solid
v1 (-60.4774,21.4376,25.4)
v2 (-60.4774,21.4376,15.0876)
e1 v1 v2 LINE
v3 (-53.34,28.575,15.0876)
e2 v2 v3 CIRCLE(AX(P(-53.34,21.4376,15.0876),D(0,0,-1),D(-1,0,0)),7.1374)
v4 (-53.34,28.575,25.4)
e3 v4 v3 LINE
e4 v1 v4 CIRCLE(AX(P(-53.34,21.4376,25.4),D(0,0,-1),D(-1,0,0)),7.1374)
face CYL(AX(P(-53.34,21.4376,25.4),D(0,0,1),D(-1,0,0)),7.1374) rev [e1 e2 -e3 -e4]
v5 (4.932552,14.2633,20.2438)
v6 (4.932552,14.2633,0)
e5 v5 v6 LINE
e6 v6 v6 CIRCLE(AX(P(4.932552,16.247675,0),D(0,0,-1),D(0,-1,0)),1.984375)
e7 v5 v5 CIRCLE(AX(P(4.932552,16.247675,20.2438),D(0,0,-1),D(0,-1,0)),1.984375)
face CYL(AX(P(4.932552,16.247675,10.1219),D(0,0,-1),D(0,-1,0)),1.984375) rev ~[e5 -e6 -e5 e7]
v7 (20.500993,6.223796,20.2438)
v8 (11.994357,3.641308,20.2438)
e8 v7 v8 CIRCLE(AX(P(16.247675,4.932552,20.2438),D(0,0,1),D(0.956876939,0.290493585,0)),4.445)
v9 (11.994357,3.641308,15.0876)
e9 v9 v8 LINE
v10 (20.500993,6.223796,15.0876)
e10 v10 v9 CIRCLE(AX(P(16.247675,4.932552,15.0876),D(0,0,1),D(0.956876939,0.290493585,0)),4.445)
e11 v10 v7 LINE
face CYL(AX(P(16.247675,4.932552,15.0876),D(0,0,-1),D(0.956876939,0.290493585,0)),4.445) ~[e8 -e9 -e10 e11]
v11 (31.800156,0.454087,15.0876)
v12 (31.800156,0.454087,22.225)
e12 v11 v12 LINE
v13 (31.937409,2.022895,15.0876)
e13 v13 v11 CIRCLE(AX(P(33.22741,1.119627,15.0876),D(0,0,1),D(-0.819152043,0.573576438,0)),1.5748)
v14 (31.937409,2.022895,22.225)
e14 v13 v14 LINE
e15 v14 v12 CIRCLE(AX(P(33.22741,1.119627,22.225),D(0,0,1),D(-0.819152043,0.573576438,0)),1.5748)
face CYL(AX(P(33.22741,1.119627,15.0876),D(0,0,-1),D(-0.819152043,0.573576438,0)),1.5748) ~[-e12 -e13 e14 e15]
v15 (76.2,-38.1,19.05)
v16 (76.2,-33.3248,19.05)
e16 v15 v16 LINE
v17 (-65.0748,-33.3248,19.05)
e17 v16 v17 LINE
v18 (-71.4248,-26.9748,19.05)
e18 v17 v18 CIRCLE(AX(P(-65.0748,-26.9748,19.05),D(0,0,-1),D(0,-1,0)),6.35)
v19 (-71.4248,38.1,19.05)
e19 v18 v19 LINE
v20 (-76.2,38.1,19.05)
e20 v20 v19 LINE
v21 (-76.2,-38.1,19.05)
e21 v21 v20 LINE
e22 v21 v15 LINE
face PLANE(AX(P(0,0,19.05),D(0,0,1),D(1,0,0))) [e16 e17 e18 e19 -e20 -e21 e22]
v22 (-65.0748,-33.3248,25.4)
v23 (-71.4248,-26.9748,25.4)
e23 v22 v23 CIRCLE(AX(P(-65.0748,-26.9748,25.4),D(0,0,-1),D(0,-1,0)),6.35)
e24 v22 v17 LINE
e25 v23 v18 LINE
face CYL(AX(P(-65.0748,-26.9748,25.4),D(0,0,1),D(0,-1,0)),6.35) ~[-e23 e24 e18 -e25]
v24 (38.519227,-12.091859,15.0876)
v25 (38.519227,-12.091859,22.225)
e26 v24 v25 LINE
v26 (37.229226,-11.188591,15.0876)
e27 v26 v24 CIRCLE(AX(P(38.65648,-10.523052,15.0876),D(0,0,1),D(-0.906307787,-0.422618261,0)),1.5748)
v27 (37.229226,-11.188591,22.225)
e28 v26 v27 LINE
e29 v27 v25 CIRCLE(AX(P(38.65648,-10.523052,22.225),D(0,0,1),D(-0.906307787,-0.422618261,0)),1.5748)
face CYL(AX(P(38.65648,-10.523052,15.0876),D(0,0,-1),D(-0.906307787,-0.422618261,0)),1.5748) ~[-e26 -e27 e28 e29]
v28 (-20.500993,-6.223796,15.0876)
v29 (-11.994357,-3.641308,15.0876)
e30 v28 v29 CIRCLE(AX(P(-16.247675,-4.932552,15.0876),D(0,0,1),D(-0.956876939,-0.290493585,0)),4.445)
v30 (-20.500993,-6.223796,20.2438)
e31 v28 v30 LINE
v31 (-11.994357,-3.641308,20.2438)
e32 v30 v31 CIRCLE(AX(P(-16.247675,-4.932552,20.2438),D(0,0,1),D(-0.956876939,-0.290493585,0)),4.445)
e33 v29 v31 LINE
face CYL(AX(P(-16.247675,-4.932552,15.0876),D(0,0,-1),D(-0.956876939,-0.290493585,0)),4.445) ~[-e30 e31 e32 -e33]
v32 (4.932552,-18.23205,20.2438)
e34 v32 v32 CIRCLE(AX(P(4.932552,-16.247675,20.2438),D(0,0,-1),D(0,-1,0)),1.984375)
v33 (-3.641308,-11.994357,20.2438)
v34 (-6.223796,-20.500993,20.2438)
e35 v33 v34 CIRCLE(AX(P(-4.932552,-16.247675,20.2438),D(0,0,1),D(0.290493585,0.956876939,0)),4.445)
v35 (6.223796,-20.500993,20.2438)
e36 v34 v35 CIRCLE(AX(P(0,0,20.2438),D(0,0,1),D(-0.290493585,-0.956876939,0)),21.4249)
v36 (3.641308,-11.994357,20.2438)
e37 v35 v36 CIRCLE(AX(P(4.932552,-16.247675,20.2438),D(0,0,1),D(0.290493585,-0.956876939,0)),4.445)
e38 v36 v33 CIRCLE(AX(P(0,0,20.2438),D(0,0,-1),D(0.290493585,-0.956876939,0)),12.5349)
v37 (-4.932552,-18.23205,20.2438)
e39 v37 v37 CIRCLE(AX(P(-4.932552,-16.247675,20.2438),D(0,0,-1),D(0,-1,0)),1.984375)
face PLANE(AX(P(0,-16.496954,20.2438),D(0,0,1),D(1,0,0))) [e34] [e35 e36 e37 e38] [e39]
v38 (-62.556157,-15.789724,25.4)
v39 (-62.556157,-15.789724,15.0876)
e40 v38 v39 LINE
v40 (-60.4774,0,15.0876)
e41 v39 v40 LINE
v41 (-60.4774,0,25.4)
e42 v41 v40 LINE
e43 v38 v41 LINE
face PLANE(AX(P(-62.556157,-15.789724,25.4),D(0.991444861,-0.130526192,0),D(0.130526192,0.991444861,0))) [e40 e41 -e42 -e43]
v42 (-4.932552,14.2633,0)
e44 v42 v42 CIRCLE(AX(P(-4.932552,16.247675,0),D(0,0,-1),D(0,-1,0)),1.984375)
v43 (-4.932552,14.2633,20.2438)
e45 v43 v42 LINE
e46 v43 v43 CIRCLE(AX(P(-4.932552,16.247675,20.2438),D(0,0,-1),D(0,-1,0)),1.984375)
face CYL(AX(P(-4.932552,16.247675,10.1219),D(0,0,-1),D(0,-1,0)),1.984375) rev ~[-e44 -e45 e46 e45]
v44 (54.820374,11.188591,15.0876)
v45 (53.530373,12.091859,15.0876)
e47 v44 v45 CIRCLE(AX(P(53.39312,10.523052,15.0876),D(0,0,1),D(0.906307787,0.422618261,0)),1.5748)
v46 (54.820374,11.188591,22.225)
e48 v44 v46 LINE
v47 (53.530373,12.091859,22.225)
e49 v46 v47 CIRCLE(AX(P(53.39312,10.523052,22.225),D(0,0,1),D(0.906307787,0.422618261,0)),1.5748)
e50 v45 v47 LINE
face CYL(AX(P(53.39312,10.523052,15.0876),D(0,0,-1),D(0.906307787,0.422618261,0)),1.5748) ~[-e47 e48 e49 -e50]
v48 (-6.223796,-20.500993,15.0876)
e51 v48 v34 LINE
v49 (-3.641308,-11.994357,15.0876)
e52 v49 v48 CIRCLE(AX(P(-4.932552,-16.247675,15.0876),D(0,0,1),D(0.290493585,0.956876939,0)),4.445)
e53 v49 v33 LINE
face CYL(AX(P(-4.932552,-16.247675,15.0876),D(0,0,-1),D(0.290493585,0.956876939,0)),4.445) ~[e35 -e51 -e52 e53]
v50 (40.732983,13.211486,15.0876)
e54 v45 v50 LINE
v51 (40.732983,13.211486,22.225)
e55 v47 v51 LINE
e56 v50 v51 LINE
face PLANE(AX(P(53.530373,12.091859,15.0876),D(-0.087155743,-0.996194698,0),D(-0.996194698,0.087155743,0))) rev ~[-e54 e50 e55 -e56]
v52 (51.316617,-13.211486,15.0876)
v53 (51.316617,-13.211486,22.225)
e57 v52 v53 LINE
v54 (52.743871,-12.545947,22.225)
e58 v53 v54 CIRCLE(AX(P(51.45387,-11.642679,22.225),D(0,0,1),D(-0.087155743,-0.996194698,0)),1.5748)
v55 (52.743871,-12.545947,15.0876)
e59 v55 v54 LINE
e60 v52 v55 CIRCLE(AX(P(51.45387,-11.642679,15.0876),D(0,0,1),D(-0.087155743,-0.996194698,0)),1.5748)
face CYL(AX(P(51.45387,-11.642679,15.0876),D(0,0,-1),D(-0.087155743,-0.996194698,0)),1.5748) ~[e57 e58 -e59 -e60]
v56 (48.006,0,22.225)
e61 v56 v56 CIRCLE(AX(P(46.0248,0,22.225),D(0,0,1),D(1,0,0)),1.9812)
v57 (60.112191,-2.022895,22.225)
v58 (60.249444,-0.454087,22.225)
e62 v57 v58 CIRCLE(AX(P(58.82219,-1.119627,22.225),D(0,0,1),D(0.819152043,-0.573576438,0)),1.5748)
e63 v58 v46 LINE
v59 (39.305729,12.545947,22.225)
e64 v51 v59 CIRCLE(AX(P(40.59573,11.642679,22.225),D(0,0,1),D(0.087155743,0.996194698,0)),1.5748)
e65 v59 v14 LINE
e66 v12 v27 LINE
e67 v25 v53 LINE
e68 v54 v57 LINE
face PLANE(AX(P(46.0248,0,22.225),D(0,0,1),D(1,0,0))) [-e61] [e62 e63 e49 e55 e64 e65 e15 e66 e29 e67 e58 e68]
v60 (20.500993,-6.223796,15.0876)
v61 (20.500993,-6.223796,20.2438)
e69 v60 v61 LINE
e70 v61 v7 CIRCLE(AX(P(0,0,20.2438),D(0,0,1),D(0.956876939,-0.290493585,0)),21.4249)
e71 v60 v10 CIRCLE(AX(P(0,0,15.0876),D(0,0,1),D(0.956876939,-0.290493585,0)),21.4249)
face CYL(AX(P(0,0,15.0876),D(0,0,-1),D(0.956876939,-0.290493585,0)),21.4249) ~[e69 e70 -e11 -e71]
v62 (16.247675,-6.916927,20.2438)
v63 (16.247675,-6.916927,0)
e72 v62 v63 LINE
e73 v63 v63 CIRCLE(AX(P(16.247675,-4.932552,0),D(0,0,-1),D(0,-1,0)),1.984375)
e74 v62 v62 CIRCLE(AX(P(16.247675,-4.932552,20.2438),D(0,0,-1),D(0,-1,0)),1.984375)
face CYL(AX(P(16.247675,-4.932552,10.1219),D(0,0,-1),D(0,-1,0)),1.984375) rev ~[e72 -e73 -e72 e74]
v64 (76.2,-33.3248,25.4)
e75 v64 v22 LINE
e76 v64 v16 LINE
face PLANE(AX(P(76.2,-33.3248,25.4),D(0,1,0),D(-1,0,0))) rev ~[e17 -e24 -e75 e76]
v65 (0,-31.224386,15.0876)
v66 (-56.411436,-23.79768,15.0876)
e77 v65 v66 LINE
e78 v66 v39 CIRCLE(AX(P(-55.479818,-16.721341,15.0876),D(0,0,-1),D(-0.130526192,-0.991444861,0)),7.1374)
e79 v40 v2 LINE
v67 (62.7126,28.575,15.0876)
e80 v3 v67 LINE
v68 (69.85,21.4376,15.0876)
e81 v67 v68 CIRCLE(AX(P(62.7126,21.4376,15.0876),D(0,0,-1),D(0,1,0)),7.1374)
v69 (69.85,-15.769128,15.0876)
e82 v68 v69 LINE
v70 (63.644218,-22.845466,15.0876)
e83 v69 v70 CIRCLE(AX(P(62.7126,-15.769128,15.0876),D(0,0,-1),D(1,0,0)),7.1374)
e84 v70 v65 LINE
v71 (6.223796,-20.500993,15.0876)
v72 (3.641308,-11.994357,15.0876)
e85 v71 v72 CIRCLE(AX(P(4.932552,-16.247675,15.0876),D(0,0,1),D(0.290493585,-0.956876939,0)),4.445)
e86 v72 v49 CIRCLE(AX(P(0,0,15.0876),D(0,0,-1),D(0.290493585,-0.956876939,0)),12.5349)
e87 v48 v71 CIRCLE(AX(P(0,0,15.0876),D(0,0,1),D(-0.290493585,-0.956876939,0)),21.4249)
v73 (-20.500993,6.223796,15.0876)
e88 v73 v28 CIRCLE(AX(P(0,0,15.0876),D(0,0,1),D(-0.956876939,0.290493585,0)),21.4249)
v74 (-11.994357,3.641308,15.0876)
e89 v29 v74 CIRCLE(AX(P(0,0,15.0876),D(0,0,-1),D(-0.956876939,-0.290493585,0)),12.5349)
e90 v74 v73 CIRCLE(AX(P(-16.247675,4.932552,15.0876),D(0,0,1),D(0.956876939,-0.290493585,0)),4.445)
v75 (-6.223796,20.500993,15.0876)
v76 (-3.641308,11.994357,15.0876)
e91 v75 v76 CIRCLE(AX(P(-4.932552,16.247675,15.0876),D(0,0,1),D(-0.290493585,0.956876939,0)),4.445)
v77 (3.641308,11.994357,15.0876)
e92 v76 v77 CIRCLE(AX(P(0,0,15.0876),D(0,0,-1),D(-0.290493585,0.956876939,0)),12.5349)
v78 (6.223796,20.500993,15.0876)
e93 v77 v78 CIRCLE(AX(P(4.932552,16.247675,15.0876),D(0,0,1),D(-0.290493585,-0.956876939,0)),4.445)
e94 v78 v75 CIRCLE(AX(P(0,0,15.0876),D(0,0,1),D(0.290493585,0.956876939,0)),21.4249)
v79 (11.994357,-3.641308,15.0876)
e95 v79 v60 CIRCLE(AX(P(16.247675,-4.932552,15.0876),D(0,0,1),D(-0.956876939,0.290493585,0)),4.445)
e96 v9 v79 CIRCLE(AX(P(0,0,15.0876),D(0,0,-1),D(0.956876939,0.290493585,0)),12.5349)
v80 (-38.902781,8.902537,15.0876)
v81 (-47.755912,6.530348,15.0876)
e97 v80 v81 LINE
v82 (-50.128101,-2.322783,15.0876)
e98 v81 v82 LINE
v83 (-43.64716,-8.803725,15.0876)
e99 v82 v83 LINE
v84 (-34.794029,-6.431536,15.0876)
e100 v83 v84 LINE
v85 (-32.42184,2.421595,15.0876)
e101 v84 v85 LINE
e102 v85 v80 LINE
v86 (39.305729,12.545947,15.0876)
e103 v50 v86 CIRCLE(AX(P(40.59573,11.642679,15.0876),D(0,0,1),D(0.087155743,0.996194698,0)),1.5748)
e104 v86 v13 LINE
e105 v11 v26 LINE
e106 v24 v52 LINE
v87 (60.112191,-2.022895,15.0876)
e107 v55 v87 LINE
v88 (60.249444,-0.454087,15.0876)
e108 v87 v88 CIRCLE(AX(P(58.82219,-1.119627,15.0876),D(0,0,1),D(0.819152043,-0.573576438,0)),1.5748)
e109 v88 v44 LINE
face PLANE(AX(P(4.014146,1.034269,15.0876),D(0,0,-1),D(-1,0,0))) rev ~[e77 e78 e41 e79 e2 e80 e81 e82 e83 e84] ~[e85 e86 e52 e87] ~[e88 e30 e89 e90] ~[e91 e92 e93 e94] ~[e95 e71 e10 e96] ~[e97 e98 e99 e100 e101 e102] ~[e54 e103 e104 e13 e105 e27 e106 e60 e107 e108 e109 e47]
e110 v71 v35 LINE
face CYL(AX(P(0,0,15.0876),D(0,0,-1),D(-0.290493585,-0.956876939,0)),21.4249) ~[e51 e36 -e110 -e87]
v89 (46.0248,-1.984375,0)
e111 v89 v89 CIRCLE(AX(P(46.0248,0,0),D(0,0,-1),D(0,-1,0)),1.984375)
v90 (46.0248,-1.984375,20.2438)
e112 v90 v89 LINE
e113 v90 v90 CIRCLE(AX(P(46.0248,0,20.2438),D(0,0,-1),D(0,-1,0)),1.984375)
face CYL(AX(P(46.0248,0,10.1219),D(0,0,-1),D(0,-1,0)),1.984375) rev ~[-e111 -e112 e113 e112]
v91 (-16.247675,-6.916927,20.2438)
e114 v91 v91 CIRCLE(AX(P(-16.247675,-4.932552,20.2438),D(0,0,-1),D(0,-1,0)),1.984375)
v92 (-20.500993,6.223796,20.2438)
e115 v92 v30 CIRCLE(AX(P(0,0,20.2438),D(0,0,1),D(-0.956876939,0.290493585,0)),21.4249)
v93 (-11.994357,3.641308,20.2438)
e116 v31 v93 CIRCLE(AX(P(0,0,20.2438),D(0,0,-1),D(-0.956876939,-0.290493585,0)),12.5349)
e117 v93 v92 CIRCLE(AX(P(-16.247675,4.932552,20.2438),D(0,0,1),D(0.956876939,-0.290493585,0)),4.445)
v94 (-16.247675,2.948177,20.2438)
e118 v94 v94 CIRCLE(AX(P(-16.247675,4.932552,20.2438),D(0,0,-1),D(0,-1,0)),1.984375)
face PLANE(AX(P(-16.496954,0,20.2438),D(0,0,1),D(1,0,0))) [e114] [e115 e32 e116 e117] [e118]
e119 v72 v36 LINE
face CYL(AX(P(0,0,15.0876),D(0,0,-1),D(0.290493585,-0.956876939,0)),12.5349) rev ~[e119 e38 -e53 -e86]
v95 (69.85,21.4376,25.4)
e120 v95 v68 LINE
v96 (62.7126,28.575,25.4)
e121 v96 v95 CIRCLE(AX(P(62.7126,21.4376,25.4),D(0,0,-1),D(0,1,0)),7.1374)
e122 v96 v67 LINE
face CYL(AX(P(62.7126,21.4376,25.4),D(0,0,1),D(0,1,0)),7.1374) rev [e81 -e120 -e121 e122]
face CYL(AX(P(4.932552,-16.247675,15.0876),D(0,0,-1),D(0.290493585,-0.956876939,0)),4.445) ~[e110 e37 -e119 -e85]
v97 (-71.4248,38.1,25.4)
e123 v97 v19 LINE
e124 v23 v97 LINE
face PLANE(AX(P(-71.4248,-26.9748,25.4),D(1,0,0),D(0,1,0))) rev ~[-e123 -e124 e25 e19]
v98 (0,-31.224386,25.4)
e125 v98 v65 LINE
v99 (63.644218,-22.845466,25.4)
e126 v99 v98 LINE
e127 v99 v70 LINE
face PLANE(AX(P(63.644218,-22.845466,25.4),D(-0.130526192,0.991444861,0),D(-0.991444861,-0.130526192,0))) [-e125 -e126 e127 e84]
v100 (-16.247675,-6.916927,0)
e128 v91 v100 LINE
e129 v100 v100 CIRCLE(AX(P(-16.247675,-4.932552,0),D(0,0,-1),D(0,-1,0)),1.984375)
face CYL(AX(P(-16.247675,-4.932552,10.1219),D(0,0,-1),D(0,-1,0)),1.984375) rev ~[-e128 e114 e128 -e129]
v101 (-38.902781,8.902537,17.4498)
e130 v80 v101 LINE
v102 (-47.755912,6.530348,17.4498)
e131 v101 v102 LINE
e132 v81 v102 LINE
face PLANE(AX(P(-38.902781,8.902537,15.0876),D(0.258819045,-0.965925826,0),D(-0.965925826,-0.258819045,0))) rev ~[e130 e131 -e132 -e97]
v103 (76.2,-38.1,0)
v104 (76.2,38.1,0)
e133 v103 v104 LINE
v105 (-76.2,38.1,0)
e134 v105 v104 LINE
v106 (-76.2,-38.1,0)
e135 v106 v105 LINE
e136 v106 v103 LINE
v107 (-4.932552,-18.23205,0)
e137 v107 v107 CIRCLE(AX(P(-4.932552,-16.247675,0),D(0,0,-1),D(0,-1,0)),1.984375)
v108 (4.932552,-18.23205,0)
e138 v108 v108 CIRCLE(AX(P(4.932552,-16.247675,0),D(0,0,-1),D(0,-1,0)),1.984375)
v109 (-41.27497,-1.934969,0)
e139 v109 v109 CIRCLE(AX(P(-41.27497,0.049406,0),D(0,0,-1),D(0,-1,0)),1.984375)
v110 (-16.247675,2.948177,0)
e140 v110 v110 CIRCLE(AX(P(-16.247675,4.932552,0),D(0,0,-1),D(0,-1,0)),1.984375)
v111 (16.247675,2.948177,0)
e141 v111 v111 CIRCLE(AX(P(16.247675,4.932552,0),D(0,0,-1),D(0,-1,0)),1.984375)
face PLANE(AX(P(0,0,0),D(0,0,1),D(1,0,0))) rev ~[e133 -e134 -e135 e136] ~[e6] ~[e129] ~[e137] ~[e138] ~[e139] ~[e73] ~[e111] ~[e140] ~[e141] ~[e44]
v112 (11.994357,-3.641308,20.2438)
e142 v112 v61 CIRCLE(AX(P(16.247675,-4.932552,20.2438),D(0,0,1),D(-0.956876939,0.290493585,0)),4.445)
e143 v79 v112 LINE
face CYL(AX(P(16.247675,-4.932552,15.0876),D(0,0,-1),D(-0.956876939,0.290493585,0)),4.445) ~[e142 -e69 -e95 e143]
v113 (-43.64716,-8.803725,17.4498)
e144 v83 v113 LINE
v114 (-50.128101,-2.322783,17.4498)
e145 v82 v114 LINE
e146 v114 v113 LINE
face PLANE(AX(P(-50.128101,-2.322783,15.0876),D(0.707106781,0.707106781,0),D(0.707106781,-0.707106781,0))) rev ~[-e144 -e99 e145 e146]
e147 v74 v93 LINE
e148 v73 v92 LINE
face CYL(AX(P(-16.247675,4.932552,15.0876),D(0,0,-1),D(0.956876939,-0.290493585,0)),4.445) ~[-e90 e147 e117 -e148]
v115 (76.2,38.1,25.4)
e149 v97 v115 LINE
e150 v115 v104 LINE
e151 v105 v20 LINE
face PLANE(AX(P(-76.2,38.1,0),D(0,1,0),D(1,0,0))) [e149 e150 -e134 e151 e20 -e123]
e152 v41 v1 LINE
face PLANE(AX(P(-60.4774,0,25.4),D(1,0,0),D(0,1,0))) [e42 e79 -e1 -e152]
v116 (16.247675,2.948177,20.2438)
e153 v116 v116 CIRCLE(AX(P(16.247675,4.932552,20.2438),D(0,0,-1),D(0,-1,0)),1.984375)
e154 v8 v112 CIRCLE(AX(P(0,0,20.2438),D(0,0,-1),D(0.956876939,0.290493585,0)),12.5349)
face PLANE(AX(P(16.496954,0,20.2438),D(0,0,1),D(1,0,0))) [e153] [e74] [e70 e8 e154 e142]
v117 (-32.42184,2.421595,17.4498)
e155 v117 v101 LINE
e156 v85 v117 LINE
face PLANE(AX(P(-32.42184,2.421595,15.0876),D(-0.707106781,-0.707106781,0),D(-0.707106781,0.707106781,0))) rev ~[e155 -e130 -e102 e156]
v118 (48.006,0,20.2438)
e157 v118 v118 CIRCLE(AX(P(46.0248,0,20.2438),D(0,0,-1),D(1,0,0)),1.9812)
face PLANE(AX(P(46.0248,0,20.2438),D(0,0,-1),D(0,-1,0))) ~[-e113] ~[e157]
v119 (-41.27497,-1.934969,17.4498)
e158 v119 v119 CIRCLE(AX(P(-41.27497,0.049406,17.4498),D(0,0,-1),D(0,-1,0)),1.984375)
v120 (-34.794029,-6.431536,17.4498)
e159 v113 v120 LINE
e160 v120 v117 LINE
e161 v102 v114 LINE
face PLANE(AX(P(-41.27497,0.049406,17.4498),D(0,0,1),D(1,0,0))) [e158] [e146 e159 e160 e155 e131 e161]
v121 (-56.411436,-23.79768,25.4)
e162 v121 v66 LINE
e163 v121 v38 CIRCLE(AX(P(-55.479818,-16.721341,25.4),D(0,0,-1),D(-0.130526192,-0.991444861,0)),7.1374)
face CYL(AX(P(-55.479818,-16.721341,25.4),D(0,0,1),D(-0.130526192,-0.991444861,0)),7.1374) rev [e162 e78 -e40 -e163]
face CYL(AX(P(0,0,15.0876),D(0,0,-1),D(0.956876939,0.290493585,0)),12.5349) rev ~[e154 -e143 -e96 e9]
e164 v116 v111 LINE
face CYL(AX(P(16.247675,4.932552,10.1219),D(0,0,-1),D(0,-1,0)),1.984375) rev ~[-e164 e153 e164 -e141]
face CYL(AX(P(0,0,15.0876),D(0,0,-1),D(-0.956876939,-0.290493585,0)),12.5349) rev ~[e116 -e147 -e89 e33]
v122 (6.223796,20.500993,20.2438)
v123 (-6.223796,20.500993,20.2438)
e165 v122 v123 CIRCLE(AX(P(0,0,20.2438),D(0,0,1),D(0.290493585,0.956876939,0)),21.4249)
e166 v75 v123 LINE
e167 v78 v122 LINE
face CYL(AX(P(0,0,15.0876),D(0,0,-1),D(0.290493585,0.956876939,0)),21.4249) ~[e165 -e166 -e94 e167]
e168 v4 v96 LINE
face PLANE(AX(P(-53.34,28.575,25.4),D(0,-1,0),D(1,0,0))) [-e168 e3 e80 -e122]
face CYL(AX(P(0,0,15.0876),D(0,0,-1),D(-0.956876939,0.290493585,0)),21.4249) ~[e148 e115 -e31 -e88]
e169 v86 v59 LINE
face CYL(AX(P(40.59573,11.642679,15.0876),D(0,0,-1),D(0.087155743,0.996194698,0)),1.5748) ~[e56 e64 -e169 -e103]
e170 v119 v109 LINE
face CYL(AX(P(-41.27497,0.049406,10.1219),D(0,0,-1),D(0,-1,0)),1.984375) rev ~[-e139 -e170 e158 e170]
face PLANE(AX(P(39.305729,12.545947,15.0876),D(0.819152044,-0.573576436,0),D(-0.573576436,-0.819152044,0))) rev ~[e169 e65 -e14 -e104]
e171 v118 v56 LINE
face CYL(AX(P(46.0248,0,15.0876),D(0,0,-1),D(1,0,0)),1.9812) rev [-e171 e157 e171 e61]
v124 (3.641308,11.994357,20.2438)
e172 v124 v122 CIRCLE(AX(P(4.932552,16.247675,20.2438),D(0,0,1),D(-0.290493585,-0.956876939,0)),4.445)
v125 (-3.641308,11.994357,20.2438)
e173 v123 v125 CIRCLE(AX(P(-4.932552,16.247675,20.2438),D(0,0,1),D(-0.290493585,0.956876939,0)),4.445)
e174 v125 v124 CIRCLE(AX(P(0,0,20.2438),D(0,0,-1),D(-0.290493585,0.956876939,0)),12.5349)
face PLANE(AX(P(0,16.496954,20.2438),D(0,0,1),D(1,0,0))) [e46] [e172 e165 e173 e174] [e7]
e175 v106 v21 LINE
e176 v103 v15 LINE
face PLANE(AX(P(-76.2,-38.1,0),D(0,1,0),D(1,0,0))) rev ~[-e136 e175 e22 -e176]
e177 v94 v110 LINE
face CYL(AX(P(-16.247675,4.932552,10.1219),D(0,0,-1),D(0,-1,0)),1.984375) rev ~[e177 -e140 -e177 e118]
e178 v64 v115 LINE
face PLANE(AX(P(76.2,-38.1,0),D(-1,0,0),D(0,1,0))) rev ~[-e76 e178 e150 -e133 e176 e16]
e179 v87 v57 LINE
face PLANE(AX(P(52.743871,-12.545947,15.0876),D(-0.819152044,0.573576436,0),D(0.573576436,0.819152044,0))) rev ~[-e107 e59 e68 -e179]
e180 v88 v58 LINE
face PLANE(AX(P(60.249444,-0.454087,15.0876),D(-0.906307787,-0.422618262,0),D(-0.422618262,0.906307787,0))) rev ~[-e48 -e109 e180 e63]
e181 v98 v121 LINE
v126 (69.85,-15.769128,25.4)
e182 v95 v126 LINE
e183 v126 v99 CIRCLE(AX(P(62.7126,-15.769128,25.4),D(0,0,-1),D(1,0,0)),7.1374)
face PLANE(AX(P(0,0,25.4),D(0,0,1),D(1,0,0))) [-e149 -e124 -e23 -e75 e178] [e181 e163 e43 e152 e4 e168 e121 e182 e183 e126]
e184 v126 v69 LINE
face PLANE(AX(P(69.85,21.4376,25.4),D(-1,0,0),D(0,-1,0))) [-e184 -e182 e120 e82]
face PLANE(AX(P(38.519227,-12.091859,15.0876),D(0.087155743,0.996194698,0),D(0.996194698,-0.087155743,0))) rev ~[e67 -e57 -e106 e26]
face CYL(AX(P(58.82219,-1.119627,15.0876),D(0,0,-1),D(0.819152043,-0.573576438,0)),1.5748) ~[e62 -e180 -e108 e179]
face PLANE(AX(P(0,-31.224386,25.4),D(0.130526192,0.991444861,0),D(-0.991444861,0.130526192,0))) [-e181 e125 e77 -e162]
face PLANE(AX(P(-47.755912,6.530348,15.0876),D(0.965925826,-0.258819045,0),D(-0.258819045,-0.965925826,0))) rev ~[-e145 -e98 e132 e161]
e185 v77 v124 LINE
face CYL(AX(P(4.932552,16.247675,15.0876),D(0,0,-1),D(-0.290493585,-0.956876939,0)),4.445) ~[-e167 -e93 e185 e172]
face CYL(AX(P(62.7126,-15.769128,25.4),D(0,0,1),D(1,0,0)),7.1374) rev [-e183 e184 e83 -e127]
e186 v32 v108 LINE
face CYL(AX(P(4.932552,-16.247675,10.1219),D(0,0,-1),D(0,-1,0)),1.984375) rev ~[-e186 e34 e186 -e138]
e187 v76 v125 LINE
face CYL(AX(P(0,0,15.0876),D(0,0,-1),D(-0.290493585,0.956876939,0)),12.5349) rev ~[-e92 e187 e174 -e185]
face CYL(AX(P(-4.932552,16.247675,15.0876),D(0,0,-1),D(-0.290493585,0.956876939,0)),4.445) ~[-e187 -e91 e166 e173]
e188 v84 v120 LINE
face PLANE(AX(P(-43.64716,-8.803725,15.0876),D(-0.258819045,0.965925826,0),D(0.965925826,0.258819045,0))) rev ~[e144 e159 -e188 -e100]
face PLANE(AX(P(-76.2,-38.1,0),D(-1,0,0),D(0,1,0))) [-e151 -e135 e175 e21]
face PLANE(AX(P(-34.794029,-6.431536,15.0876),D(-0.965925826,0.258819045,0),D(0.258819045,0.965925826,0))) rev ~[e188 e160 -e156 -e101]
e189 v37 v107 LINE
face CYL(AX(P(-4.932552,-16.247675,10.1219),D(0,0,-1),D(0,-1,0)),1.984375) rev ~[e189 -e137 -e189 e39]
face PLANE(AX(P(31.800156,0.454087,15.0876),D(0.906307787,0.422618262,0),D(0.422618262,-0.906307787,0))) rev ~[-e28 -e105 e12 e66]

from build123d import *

# Parameters (mm, degrees)
SKETCH1_W                                 = 152.4
SKETCH1_H                                 = 76.2
BOSS_EXTRUDE1_DEPTH                       = 25.4
SKETCH2_OUTSIDE_W                         = 188.854
SKETCH2_OUTSIDE_H                         = 112.654
CUT_EXTRUDE1_DEPTH                        = 6.35
CUT_EXTRUDE3_DEPTH                        = 10.3124
BOSS_EXTRUDE3_DEPTH                       = 5.1562
SKETCH11_R                                = 1.9812
BOSS_EXTRUDE4_DEPTH                       = 2.3622
SKETCH12_R                                = 1.9812
BOSS_EXTRUDE5_DEPTH                       = 7.1374
SKETCH9_W                                 = 1.984375
SKETCH9_H                                 = 20.2438
F_5_32_0_15625_DIAMETER_HOLE1_AT_2_COUNT  = 2
F_5_32_0_15625_DIAMETER_HOLE1_AT_2_PITCH  = 9.865104057
F_5_32_0_15625_DIAMETER_HOLE1_AT_3_COUNT  = 2
F_5_32_0_15625_DIAMETER_HOLE1_AT_3_PITCH  = 24.013204868
F_5_32_0_15625_DIAMETER_HOLE1_AT_4_COUNT  = 2
F_5_32_0_15625_DIAMETER_HOLE1_AT_4_PITCH  = 29.953363952
F_5_32_0_15625_DIAMETER_HOLE1_AT_5_COUNT  = 2
F_5_32_0_15625_DIAMETER_HOLE1_AT_5_PITCH  = 33.9598
F_5_32_0_15625_DIAMETER_HOLE1_AT_6_COUNT  = 2
F_5_32_0_15625_DIAMETER_HOLE1_AT_6_PITCH  = 32.495349482
F_5_32_0_15625_DIAMETER_HOLE1_AT_7_COUNT  = 2
F_5_32_0_15625_DIAMETER_HOLE1_AT_7_PITCH  = 24.013204868
F_5_32_0_15625_DIAMETER_HOLE1_AT_8_COUNT  = 2
F_5_32_0_15625_DIAMETER_HOLE1_AT_8_PITCH  = 16.002
F_5_32_0_15625_DIAMETER_HOLE1_AT_9_COUNT  = 2
F_5_32_0_15625_DIAMETER_HOLE1_AT_9_PITCH  = 25.499228315
F_5_32_0_15625_DIAMETER_HOLE1_AT_10_COUNT = 2
F_5_32_0_15625_DIAMETER_HOLE1_AT_10_PITCH = 62.467521


with BuildPart() as part:
    # Sketch1 → Boss-Extrude1 (new body)
    with BuildSketch(Plane.XY):
        Rectangle(SKETCH1_W, SKETCH1_H)
    extrude(amount=BOSS_EXTRUDE1_DEPTH)

    # Sketch2 outside → Cut-Extrude1 (cut)
    with BuildSketch(Plane.XY.offset(25.4)):
        Rectangle(SKETCH2_OUTSIDE_W, SKETCH2_OUTSIDE_H)
        with BuildLine():
            Line((-71.4248, 38.1), (76.2, 38.1))
            Line((76.2, 38.1), (76.2, -33.3248))
            Line((76.2, -33.3248), (-65.0748, -33.3248))
            ThreePointArc((-65.0748, -33.3248), (-69.564928061, -31.464928061), (-71.4248, -26.9748))
            Line((-71.4248, -26.9748), (-71.4248, 38.1))
        make_face(mode=Mode.SUBTRACT)
    extrude(amount=-CUT_EXTRUDE1_DEPTH, mode=Mode.SUBTRACT)

    # Sketch5 → Cut-Extrude3 (cut)
    with BuildSketch(Plane.XY.offset(25.4)):
        with BuildLine():
            Line((-53.34, 28.575), (62.7126, 28.575))
            ThreePointArc((62.7126, 28.575), (67.75950394, 26.48450394), (69.85, 21.4376))
            Line((69.85, 21.4376), (69.85, -15.769127551))
            ThreePointArc((69.85, -15.769127551), (68.078781442, -20.475142372), (63.644217644, -22.845466105))
            Line((63.644217644, -22.845466105), (0, -31.224386314))
            Line((0, -31.224386314), (-56.411435655, -23.797679918))
            ThreePointArc((-56.411435655, -23.797679918), (-61.142298141, -21.066315188), (-62.556156564, -15.78972372))
            Line((-62.556156564, -15.78972372), (-60.4774, 0))
            Line((-60.4774, 0), (-60.4774, 21.4376))
            ThreePointArc((-60.4774, 21.4376), (-58.38690394, 26.48450394), (-53.34, 28.575))
        make_face()
    extrude(amount=-CUT_EXTRUDE3_DEPTH, mode=Mode.SUBTRACT)

    # Sketch6 → Boss-Extrude3 (add)
    with BuildSketch(Plane.XY.offset(15.0876)):
        with BuildLine():
            ThreePointArc((-20.500992736, 6.223796015), (-21.4249, 0), (-20.500992736, -6.223796015))
            ThreePointArc((-20.500992736, -6.223796015), (-14.956430755, -9.185870024), (-11.994356746, -3.641308042))
            ThreePointArc((-11.994356746, -3.641308042), (-12.5349, 0), (-11.994356746, 3.641308042))
            ThreePointArc((-11.994356746, 3.641308042), (-14.956430755, 9.185870024), (-20.500992736, 6.223796015))
        make_face()
        with BuildLine():
            ThreePointArc((20.500992736, -6.223796015), (21.4249, 0), (20.500992736, 6.223796015))
            ThreePointArc((20.500992736, 6.223796015), (14.956430755, 9.185870024), (11.994356746, 3.641308042))
            ThreePointArc((11.994356746, 3.641308042), (12.5349, 0), (11.994356746, -3.641308042))
            ThreePointArc((11.994356746, -3.641308042), (14.956430755, -9.185870024), (20.500992736, -6.223796015))
        make_face()
        with BuildLine():
            ThreePointArc((-6.223796015, -20.500992736), (0, -21.4249), (6.223796015, -20.500992736))
            ThreePointArc((6.223796015, -20.500992736), (9.185870024, -14.956430755), (3.641308042, -11.994356746))
            ThreePointArc((3.641308042, -11.994356746), (0, -12.5349), (-3.641308042, -11.994356746))
            ThreePointArc((-3.641308042, -11.994356746), (-9.185870024, -14.956430755), (-6.223796015, -20.500992736))
        make_face()
        with BuildLine():
            ThreePointArc((6.223796015, 20.500992736), (0, 21.4249), (-6.223796015, 20.500992736))
            ThreePointArc((-6.223796015, 20.500992736), (-9.185870024, 14.956430755), (-3.641308042, 11.994356746))
            ThreePointArc((-3.641308042, 11.994356746), (0, 12.5349), (3.641308042, 11.994356746))
            ThreePointArc((3.641308042, 11.994356746), (9.185870024, 14.956430755), (6.223796015, 20.500992736))
        make_face()
    extrude(amount=BOSS_EXTRUDE3_DEPTH)

    # Sketch11 → Boss-Extrude4 (add)
    with BuildSketch(Plane.XY.offset(15.0876)):
        Polygon((-38.90278116, 8.902536881), (-47.755912042, 6.530347611), (-50.128101312, -2.32278327), (-43.647159701, -8.803724881), (-34.794028819, -6.431535611), (-32.421839549, 2.42159527), align=None)
        with Locations((-41.274970431, 0.049406)):
            Circle(SKETCH11_R, mode=Mode.SUBTRACT)
    extrude(amount=BOSS_EXTRUDE4_DEPTH)

    # Sketch12 → Boss-Extrude5 (add)
    with BuildSketch(Plane.XY.offset(15.0876)):
        with BuildLine():
            Line((52.743870809, -12.545946722), (60.112191116, -2.022894761))
            ThreePointArc((60.112191116, -2.022894761), (60.390997888, -1.256879453), (60.24944398, -0.454087351))
            Line((60.24944398, -0.454087351), (54.820373811, 11.188591199))
            ThreePointArc((54.820373811, 11.188591199), (54.29638848, 11.8130526), (53.530373171, 12.091859371))
            Line((53.530373171, 12.091859371), (40.732982694, 13.21148596))
            ThreePointArc((40.732982694, 13.21148596), (39.930190592, 13.069932053), (39.305729191, 12.545946722))
            Line((39.305729191, 12.545946722), (31.937408884, 2.022894761))
            ThreePointArc((31.937408884, 2.022894761), (31.658602112, 1.256879453), (31.80015602, 0.454087351))
            Line((31.80015602, 0.454087351), (37.229226189, -11.188591199))
            ThreePointArc((37.229226189, -11.188591199), (37.75321152, -11.8130526), (38.519226829, -12.091859371))
            Line((38.519226829, -12.091859371), (51.316617306, -13.21148596))
            ThreePointArc((51.316617306, -13.21148596), (52.119409408, -13.069932053), (52.743870809, -12.545946722))
        make_face()
        with Locations((46.0248, 0)):
            Circle(SKETCH12_R, mode=Mode.SUBTRACT)
    extrude(amount=BOSS_EXTRUDE5_DEPTH)

    # Sketch9 → 5/32 (0.15625) Diameter Hole1 (revolve, cut)
    with BuildSketch(Plane(origin=(-16.247674741, 4.932552029, 20.2438), x_dir=(0, -1, 0), z_dir=(1, 0, 0))):
        with Locations((0.9921875, 10.1219)):
            Rectangle(SKETCH9_W, SKETCH9_H)
    f_5_32_0_15625_diameter_hole1 = revolve(axis=Axis((-16.247674741, 4.932552029, 26.5938), (0, 0, -1)), mode=Mode.SUBTRACT)

    # 5/32 (0.15625) Diameter Hole1 at 2: 5/32 (0.15625) Diameter Hole1 ×2
    with Locations(*[(0, -i * F_5_32_0_15625_DIAMETER_HOLE1_AT_2_PITCH, 0) for i in range(1, F_5_32_0_15625_DIAMETER_HOLE1_AT_2_COUNT)]):
        add(f_5_32_0_15625_diameter_hole1, mode=Mode.SUBTRACT)

    # 5/32 (0.15625) Diameter Hole1 at 3: 5/32 (0.15625) Diameter Hole1 ×2
    with Locations(*[Vector(0.471204188, -0.882024157, 0) * (i * F_5_32_0_15625_DIAMETER_HOLE1_AT_3_PITCH) for i in range(1, F_5_32_0_15625_DIAMETER_HOLE1_AT_3_COUNT)]):
        add(f_5_32_0_15625_diameter_hole1, mode=Mode.SUBTRACT)

    # 5/32 (0.15625) Diameter Hole1 at 4: 5/32 (0.15625) Diameter Hole1 ×2
    with Locations(*[Vector(0.707106781, -0.707106781, 0) * (i * F_5_32_0_15625_DIAMETER_HOLE1_AT_4_PITCH) for i in range(1, F_5_32_0_15625_DIAMETER_HOLE1_AT_4_COUNT)]):
        add(f_5_32_0_15625_diameter_hole1, mode=Mode.SUBTRACT)

    # 5/32 (0.15625) Diameter Hole1 at 5: 5/32 (0.15625) Diameter Hole1 ×2
    with Locations(*[Vector(0.956876939, -0.290493585, 0) * (i * F_5_32_0_15625_DIAMETER_HOLE1_AT_5_PITCH) for i in range(1, F_5_32_0_15625_DIAMETER_HOLE1_AT_5_COUNT)]):
        add(f_5_32_0_15625_diameter_hole1, mode=Mode.SUBTRACT)

    # 5/32 (0.15625) Diameter Hole1 at 6: 5/32 (0.15625) Diameter Hole1 ×2
    with Locations(*[(i * F_5_32_0_15625_DIAMETER_HOLE1_AT_6_PITCH, 0, 0) for i in range(1, F_5_32_0_15625_DIAMETER_HOLE1_AT_6_COUNT)]):
        add(f_5_32_0_15625_diameter_hole1, mode=Mode.SUBTRACT)

    # 5/32 (0.15625) Diameter Hole1 at 7: 5/32 (0.15625) Diameter Hole1 ×2
    with Locations(*[Vector(0.882024157, 0.471204188, 0) * (i * F_5_32_0_15625_DIAMETER_HOLE1_AT_7_PITCH) for i in range(1, F_5_32_0_15625_DIAMETER_HOLE1_AT_7_COUNT)]):
        add(f_5_32_0_15625_diameter_hole1, mode=Mode.SUBTRACT)

    # 5/32 (0.15625) Diameter Hole1 at 8: 5/32 (0.15625) Diameter Hole1 ×2
    with Locations(*[Vector(0.707106781, 0.707106781, 0) * (i * F_5_32_0_15625_DIAMETER_HOLE1_AT_8_PITCH) for i in range(1, F_5_32_0_15625_DIAMETER_HOLE1_AT_8_COUNT)]):
        add(f_5_32_0_15625_diameter_hole1, mode=Mode.SUBTRACT)

    # 5/32 (0.15625) Diameter Hole1 at 9: 5/32 (0.15625) Diameter Hole1 ×2
    with Locations(*[Vector(-0.981492278, -0.191501718, 0) * (i * F_5_32_0_15625_DIAMETER_HOLE1_AT_9_PITCH) for i in range(1, F_5_32_0_15625_DIAMETER_HOLE1_AT_9_COUNT)]):
        add(f_5_32_0_15625_diameter_hole1, mode=Mode.SUBTRACT)

    # 5/32 (0.15625) Diameter Hole1 at 10: 5/32 (0.15625) Diameter Hole1 ×2
    with Locations(*[Vector(0.996877637, -0.078961866, 0) * (i * F_5_32_0_15625_DIAMETER_HOLE1_AT_10_PITCH) for i in range(1, F_5_32_0_15625_DIAMETER_HOLE1_AT_10_COUNT)]):
        add(f_5_32_0_15625_diameter_hole1, mode=Mode.SUBTRACT)


solid = part.part
